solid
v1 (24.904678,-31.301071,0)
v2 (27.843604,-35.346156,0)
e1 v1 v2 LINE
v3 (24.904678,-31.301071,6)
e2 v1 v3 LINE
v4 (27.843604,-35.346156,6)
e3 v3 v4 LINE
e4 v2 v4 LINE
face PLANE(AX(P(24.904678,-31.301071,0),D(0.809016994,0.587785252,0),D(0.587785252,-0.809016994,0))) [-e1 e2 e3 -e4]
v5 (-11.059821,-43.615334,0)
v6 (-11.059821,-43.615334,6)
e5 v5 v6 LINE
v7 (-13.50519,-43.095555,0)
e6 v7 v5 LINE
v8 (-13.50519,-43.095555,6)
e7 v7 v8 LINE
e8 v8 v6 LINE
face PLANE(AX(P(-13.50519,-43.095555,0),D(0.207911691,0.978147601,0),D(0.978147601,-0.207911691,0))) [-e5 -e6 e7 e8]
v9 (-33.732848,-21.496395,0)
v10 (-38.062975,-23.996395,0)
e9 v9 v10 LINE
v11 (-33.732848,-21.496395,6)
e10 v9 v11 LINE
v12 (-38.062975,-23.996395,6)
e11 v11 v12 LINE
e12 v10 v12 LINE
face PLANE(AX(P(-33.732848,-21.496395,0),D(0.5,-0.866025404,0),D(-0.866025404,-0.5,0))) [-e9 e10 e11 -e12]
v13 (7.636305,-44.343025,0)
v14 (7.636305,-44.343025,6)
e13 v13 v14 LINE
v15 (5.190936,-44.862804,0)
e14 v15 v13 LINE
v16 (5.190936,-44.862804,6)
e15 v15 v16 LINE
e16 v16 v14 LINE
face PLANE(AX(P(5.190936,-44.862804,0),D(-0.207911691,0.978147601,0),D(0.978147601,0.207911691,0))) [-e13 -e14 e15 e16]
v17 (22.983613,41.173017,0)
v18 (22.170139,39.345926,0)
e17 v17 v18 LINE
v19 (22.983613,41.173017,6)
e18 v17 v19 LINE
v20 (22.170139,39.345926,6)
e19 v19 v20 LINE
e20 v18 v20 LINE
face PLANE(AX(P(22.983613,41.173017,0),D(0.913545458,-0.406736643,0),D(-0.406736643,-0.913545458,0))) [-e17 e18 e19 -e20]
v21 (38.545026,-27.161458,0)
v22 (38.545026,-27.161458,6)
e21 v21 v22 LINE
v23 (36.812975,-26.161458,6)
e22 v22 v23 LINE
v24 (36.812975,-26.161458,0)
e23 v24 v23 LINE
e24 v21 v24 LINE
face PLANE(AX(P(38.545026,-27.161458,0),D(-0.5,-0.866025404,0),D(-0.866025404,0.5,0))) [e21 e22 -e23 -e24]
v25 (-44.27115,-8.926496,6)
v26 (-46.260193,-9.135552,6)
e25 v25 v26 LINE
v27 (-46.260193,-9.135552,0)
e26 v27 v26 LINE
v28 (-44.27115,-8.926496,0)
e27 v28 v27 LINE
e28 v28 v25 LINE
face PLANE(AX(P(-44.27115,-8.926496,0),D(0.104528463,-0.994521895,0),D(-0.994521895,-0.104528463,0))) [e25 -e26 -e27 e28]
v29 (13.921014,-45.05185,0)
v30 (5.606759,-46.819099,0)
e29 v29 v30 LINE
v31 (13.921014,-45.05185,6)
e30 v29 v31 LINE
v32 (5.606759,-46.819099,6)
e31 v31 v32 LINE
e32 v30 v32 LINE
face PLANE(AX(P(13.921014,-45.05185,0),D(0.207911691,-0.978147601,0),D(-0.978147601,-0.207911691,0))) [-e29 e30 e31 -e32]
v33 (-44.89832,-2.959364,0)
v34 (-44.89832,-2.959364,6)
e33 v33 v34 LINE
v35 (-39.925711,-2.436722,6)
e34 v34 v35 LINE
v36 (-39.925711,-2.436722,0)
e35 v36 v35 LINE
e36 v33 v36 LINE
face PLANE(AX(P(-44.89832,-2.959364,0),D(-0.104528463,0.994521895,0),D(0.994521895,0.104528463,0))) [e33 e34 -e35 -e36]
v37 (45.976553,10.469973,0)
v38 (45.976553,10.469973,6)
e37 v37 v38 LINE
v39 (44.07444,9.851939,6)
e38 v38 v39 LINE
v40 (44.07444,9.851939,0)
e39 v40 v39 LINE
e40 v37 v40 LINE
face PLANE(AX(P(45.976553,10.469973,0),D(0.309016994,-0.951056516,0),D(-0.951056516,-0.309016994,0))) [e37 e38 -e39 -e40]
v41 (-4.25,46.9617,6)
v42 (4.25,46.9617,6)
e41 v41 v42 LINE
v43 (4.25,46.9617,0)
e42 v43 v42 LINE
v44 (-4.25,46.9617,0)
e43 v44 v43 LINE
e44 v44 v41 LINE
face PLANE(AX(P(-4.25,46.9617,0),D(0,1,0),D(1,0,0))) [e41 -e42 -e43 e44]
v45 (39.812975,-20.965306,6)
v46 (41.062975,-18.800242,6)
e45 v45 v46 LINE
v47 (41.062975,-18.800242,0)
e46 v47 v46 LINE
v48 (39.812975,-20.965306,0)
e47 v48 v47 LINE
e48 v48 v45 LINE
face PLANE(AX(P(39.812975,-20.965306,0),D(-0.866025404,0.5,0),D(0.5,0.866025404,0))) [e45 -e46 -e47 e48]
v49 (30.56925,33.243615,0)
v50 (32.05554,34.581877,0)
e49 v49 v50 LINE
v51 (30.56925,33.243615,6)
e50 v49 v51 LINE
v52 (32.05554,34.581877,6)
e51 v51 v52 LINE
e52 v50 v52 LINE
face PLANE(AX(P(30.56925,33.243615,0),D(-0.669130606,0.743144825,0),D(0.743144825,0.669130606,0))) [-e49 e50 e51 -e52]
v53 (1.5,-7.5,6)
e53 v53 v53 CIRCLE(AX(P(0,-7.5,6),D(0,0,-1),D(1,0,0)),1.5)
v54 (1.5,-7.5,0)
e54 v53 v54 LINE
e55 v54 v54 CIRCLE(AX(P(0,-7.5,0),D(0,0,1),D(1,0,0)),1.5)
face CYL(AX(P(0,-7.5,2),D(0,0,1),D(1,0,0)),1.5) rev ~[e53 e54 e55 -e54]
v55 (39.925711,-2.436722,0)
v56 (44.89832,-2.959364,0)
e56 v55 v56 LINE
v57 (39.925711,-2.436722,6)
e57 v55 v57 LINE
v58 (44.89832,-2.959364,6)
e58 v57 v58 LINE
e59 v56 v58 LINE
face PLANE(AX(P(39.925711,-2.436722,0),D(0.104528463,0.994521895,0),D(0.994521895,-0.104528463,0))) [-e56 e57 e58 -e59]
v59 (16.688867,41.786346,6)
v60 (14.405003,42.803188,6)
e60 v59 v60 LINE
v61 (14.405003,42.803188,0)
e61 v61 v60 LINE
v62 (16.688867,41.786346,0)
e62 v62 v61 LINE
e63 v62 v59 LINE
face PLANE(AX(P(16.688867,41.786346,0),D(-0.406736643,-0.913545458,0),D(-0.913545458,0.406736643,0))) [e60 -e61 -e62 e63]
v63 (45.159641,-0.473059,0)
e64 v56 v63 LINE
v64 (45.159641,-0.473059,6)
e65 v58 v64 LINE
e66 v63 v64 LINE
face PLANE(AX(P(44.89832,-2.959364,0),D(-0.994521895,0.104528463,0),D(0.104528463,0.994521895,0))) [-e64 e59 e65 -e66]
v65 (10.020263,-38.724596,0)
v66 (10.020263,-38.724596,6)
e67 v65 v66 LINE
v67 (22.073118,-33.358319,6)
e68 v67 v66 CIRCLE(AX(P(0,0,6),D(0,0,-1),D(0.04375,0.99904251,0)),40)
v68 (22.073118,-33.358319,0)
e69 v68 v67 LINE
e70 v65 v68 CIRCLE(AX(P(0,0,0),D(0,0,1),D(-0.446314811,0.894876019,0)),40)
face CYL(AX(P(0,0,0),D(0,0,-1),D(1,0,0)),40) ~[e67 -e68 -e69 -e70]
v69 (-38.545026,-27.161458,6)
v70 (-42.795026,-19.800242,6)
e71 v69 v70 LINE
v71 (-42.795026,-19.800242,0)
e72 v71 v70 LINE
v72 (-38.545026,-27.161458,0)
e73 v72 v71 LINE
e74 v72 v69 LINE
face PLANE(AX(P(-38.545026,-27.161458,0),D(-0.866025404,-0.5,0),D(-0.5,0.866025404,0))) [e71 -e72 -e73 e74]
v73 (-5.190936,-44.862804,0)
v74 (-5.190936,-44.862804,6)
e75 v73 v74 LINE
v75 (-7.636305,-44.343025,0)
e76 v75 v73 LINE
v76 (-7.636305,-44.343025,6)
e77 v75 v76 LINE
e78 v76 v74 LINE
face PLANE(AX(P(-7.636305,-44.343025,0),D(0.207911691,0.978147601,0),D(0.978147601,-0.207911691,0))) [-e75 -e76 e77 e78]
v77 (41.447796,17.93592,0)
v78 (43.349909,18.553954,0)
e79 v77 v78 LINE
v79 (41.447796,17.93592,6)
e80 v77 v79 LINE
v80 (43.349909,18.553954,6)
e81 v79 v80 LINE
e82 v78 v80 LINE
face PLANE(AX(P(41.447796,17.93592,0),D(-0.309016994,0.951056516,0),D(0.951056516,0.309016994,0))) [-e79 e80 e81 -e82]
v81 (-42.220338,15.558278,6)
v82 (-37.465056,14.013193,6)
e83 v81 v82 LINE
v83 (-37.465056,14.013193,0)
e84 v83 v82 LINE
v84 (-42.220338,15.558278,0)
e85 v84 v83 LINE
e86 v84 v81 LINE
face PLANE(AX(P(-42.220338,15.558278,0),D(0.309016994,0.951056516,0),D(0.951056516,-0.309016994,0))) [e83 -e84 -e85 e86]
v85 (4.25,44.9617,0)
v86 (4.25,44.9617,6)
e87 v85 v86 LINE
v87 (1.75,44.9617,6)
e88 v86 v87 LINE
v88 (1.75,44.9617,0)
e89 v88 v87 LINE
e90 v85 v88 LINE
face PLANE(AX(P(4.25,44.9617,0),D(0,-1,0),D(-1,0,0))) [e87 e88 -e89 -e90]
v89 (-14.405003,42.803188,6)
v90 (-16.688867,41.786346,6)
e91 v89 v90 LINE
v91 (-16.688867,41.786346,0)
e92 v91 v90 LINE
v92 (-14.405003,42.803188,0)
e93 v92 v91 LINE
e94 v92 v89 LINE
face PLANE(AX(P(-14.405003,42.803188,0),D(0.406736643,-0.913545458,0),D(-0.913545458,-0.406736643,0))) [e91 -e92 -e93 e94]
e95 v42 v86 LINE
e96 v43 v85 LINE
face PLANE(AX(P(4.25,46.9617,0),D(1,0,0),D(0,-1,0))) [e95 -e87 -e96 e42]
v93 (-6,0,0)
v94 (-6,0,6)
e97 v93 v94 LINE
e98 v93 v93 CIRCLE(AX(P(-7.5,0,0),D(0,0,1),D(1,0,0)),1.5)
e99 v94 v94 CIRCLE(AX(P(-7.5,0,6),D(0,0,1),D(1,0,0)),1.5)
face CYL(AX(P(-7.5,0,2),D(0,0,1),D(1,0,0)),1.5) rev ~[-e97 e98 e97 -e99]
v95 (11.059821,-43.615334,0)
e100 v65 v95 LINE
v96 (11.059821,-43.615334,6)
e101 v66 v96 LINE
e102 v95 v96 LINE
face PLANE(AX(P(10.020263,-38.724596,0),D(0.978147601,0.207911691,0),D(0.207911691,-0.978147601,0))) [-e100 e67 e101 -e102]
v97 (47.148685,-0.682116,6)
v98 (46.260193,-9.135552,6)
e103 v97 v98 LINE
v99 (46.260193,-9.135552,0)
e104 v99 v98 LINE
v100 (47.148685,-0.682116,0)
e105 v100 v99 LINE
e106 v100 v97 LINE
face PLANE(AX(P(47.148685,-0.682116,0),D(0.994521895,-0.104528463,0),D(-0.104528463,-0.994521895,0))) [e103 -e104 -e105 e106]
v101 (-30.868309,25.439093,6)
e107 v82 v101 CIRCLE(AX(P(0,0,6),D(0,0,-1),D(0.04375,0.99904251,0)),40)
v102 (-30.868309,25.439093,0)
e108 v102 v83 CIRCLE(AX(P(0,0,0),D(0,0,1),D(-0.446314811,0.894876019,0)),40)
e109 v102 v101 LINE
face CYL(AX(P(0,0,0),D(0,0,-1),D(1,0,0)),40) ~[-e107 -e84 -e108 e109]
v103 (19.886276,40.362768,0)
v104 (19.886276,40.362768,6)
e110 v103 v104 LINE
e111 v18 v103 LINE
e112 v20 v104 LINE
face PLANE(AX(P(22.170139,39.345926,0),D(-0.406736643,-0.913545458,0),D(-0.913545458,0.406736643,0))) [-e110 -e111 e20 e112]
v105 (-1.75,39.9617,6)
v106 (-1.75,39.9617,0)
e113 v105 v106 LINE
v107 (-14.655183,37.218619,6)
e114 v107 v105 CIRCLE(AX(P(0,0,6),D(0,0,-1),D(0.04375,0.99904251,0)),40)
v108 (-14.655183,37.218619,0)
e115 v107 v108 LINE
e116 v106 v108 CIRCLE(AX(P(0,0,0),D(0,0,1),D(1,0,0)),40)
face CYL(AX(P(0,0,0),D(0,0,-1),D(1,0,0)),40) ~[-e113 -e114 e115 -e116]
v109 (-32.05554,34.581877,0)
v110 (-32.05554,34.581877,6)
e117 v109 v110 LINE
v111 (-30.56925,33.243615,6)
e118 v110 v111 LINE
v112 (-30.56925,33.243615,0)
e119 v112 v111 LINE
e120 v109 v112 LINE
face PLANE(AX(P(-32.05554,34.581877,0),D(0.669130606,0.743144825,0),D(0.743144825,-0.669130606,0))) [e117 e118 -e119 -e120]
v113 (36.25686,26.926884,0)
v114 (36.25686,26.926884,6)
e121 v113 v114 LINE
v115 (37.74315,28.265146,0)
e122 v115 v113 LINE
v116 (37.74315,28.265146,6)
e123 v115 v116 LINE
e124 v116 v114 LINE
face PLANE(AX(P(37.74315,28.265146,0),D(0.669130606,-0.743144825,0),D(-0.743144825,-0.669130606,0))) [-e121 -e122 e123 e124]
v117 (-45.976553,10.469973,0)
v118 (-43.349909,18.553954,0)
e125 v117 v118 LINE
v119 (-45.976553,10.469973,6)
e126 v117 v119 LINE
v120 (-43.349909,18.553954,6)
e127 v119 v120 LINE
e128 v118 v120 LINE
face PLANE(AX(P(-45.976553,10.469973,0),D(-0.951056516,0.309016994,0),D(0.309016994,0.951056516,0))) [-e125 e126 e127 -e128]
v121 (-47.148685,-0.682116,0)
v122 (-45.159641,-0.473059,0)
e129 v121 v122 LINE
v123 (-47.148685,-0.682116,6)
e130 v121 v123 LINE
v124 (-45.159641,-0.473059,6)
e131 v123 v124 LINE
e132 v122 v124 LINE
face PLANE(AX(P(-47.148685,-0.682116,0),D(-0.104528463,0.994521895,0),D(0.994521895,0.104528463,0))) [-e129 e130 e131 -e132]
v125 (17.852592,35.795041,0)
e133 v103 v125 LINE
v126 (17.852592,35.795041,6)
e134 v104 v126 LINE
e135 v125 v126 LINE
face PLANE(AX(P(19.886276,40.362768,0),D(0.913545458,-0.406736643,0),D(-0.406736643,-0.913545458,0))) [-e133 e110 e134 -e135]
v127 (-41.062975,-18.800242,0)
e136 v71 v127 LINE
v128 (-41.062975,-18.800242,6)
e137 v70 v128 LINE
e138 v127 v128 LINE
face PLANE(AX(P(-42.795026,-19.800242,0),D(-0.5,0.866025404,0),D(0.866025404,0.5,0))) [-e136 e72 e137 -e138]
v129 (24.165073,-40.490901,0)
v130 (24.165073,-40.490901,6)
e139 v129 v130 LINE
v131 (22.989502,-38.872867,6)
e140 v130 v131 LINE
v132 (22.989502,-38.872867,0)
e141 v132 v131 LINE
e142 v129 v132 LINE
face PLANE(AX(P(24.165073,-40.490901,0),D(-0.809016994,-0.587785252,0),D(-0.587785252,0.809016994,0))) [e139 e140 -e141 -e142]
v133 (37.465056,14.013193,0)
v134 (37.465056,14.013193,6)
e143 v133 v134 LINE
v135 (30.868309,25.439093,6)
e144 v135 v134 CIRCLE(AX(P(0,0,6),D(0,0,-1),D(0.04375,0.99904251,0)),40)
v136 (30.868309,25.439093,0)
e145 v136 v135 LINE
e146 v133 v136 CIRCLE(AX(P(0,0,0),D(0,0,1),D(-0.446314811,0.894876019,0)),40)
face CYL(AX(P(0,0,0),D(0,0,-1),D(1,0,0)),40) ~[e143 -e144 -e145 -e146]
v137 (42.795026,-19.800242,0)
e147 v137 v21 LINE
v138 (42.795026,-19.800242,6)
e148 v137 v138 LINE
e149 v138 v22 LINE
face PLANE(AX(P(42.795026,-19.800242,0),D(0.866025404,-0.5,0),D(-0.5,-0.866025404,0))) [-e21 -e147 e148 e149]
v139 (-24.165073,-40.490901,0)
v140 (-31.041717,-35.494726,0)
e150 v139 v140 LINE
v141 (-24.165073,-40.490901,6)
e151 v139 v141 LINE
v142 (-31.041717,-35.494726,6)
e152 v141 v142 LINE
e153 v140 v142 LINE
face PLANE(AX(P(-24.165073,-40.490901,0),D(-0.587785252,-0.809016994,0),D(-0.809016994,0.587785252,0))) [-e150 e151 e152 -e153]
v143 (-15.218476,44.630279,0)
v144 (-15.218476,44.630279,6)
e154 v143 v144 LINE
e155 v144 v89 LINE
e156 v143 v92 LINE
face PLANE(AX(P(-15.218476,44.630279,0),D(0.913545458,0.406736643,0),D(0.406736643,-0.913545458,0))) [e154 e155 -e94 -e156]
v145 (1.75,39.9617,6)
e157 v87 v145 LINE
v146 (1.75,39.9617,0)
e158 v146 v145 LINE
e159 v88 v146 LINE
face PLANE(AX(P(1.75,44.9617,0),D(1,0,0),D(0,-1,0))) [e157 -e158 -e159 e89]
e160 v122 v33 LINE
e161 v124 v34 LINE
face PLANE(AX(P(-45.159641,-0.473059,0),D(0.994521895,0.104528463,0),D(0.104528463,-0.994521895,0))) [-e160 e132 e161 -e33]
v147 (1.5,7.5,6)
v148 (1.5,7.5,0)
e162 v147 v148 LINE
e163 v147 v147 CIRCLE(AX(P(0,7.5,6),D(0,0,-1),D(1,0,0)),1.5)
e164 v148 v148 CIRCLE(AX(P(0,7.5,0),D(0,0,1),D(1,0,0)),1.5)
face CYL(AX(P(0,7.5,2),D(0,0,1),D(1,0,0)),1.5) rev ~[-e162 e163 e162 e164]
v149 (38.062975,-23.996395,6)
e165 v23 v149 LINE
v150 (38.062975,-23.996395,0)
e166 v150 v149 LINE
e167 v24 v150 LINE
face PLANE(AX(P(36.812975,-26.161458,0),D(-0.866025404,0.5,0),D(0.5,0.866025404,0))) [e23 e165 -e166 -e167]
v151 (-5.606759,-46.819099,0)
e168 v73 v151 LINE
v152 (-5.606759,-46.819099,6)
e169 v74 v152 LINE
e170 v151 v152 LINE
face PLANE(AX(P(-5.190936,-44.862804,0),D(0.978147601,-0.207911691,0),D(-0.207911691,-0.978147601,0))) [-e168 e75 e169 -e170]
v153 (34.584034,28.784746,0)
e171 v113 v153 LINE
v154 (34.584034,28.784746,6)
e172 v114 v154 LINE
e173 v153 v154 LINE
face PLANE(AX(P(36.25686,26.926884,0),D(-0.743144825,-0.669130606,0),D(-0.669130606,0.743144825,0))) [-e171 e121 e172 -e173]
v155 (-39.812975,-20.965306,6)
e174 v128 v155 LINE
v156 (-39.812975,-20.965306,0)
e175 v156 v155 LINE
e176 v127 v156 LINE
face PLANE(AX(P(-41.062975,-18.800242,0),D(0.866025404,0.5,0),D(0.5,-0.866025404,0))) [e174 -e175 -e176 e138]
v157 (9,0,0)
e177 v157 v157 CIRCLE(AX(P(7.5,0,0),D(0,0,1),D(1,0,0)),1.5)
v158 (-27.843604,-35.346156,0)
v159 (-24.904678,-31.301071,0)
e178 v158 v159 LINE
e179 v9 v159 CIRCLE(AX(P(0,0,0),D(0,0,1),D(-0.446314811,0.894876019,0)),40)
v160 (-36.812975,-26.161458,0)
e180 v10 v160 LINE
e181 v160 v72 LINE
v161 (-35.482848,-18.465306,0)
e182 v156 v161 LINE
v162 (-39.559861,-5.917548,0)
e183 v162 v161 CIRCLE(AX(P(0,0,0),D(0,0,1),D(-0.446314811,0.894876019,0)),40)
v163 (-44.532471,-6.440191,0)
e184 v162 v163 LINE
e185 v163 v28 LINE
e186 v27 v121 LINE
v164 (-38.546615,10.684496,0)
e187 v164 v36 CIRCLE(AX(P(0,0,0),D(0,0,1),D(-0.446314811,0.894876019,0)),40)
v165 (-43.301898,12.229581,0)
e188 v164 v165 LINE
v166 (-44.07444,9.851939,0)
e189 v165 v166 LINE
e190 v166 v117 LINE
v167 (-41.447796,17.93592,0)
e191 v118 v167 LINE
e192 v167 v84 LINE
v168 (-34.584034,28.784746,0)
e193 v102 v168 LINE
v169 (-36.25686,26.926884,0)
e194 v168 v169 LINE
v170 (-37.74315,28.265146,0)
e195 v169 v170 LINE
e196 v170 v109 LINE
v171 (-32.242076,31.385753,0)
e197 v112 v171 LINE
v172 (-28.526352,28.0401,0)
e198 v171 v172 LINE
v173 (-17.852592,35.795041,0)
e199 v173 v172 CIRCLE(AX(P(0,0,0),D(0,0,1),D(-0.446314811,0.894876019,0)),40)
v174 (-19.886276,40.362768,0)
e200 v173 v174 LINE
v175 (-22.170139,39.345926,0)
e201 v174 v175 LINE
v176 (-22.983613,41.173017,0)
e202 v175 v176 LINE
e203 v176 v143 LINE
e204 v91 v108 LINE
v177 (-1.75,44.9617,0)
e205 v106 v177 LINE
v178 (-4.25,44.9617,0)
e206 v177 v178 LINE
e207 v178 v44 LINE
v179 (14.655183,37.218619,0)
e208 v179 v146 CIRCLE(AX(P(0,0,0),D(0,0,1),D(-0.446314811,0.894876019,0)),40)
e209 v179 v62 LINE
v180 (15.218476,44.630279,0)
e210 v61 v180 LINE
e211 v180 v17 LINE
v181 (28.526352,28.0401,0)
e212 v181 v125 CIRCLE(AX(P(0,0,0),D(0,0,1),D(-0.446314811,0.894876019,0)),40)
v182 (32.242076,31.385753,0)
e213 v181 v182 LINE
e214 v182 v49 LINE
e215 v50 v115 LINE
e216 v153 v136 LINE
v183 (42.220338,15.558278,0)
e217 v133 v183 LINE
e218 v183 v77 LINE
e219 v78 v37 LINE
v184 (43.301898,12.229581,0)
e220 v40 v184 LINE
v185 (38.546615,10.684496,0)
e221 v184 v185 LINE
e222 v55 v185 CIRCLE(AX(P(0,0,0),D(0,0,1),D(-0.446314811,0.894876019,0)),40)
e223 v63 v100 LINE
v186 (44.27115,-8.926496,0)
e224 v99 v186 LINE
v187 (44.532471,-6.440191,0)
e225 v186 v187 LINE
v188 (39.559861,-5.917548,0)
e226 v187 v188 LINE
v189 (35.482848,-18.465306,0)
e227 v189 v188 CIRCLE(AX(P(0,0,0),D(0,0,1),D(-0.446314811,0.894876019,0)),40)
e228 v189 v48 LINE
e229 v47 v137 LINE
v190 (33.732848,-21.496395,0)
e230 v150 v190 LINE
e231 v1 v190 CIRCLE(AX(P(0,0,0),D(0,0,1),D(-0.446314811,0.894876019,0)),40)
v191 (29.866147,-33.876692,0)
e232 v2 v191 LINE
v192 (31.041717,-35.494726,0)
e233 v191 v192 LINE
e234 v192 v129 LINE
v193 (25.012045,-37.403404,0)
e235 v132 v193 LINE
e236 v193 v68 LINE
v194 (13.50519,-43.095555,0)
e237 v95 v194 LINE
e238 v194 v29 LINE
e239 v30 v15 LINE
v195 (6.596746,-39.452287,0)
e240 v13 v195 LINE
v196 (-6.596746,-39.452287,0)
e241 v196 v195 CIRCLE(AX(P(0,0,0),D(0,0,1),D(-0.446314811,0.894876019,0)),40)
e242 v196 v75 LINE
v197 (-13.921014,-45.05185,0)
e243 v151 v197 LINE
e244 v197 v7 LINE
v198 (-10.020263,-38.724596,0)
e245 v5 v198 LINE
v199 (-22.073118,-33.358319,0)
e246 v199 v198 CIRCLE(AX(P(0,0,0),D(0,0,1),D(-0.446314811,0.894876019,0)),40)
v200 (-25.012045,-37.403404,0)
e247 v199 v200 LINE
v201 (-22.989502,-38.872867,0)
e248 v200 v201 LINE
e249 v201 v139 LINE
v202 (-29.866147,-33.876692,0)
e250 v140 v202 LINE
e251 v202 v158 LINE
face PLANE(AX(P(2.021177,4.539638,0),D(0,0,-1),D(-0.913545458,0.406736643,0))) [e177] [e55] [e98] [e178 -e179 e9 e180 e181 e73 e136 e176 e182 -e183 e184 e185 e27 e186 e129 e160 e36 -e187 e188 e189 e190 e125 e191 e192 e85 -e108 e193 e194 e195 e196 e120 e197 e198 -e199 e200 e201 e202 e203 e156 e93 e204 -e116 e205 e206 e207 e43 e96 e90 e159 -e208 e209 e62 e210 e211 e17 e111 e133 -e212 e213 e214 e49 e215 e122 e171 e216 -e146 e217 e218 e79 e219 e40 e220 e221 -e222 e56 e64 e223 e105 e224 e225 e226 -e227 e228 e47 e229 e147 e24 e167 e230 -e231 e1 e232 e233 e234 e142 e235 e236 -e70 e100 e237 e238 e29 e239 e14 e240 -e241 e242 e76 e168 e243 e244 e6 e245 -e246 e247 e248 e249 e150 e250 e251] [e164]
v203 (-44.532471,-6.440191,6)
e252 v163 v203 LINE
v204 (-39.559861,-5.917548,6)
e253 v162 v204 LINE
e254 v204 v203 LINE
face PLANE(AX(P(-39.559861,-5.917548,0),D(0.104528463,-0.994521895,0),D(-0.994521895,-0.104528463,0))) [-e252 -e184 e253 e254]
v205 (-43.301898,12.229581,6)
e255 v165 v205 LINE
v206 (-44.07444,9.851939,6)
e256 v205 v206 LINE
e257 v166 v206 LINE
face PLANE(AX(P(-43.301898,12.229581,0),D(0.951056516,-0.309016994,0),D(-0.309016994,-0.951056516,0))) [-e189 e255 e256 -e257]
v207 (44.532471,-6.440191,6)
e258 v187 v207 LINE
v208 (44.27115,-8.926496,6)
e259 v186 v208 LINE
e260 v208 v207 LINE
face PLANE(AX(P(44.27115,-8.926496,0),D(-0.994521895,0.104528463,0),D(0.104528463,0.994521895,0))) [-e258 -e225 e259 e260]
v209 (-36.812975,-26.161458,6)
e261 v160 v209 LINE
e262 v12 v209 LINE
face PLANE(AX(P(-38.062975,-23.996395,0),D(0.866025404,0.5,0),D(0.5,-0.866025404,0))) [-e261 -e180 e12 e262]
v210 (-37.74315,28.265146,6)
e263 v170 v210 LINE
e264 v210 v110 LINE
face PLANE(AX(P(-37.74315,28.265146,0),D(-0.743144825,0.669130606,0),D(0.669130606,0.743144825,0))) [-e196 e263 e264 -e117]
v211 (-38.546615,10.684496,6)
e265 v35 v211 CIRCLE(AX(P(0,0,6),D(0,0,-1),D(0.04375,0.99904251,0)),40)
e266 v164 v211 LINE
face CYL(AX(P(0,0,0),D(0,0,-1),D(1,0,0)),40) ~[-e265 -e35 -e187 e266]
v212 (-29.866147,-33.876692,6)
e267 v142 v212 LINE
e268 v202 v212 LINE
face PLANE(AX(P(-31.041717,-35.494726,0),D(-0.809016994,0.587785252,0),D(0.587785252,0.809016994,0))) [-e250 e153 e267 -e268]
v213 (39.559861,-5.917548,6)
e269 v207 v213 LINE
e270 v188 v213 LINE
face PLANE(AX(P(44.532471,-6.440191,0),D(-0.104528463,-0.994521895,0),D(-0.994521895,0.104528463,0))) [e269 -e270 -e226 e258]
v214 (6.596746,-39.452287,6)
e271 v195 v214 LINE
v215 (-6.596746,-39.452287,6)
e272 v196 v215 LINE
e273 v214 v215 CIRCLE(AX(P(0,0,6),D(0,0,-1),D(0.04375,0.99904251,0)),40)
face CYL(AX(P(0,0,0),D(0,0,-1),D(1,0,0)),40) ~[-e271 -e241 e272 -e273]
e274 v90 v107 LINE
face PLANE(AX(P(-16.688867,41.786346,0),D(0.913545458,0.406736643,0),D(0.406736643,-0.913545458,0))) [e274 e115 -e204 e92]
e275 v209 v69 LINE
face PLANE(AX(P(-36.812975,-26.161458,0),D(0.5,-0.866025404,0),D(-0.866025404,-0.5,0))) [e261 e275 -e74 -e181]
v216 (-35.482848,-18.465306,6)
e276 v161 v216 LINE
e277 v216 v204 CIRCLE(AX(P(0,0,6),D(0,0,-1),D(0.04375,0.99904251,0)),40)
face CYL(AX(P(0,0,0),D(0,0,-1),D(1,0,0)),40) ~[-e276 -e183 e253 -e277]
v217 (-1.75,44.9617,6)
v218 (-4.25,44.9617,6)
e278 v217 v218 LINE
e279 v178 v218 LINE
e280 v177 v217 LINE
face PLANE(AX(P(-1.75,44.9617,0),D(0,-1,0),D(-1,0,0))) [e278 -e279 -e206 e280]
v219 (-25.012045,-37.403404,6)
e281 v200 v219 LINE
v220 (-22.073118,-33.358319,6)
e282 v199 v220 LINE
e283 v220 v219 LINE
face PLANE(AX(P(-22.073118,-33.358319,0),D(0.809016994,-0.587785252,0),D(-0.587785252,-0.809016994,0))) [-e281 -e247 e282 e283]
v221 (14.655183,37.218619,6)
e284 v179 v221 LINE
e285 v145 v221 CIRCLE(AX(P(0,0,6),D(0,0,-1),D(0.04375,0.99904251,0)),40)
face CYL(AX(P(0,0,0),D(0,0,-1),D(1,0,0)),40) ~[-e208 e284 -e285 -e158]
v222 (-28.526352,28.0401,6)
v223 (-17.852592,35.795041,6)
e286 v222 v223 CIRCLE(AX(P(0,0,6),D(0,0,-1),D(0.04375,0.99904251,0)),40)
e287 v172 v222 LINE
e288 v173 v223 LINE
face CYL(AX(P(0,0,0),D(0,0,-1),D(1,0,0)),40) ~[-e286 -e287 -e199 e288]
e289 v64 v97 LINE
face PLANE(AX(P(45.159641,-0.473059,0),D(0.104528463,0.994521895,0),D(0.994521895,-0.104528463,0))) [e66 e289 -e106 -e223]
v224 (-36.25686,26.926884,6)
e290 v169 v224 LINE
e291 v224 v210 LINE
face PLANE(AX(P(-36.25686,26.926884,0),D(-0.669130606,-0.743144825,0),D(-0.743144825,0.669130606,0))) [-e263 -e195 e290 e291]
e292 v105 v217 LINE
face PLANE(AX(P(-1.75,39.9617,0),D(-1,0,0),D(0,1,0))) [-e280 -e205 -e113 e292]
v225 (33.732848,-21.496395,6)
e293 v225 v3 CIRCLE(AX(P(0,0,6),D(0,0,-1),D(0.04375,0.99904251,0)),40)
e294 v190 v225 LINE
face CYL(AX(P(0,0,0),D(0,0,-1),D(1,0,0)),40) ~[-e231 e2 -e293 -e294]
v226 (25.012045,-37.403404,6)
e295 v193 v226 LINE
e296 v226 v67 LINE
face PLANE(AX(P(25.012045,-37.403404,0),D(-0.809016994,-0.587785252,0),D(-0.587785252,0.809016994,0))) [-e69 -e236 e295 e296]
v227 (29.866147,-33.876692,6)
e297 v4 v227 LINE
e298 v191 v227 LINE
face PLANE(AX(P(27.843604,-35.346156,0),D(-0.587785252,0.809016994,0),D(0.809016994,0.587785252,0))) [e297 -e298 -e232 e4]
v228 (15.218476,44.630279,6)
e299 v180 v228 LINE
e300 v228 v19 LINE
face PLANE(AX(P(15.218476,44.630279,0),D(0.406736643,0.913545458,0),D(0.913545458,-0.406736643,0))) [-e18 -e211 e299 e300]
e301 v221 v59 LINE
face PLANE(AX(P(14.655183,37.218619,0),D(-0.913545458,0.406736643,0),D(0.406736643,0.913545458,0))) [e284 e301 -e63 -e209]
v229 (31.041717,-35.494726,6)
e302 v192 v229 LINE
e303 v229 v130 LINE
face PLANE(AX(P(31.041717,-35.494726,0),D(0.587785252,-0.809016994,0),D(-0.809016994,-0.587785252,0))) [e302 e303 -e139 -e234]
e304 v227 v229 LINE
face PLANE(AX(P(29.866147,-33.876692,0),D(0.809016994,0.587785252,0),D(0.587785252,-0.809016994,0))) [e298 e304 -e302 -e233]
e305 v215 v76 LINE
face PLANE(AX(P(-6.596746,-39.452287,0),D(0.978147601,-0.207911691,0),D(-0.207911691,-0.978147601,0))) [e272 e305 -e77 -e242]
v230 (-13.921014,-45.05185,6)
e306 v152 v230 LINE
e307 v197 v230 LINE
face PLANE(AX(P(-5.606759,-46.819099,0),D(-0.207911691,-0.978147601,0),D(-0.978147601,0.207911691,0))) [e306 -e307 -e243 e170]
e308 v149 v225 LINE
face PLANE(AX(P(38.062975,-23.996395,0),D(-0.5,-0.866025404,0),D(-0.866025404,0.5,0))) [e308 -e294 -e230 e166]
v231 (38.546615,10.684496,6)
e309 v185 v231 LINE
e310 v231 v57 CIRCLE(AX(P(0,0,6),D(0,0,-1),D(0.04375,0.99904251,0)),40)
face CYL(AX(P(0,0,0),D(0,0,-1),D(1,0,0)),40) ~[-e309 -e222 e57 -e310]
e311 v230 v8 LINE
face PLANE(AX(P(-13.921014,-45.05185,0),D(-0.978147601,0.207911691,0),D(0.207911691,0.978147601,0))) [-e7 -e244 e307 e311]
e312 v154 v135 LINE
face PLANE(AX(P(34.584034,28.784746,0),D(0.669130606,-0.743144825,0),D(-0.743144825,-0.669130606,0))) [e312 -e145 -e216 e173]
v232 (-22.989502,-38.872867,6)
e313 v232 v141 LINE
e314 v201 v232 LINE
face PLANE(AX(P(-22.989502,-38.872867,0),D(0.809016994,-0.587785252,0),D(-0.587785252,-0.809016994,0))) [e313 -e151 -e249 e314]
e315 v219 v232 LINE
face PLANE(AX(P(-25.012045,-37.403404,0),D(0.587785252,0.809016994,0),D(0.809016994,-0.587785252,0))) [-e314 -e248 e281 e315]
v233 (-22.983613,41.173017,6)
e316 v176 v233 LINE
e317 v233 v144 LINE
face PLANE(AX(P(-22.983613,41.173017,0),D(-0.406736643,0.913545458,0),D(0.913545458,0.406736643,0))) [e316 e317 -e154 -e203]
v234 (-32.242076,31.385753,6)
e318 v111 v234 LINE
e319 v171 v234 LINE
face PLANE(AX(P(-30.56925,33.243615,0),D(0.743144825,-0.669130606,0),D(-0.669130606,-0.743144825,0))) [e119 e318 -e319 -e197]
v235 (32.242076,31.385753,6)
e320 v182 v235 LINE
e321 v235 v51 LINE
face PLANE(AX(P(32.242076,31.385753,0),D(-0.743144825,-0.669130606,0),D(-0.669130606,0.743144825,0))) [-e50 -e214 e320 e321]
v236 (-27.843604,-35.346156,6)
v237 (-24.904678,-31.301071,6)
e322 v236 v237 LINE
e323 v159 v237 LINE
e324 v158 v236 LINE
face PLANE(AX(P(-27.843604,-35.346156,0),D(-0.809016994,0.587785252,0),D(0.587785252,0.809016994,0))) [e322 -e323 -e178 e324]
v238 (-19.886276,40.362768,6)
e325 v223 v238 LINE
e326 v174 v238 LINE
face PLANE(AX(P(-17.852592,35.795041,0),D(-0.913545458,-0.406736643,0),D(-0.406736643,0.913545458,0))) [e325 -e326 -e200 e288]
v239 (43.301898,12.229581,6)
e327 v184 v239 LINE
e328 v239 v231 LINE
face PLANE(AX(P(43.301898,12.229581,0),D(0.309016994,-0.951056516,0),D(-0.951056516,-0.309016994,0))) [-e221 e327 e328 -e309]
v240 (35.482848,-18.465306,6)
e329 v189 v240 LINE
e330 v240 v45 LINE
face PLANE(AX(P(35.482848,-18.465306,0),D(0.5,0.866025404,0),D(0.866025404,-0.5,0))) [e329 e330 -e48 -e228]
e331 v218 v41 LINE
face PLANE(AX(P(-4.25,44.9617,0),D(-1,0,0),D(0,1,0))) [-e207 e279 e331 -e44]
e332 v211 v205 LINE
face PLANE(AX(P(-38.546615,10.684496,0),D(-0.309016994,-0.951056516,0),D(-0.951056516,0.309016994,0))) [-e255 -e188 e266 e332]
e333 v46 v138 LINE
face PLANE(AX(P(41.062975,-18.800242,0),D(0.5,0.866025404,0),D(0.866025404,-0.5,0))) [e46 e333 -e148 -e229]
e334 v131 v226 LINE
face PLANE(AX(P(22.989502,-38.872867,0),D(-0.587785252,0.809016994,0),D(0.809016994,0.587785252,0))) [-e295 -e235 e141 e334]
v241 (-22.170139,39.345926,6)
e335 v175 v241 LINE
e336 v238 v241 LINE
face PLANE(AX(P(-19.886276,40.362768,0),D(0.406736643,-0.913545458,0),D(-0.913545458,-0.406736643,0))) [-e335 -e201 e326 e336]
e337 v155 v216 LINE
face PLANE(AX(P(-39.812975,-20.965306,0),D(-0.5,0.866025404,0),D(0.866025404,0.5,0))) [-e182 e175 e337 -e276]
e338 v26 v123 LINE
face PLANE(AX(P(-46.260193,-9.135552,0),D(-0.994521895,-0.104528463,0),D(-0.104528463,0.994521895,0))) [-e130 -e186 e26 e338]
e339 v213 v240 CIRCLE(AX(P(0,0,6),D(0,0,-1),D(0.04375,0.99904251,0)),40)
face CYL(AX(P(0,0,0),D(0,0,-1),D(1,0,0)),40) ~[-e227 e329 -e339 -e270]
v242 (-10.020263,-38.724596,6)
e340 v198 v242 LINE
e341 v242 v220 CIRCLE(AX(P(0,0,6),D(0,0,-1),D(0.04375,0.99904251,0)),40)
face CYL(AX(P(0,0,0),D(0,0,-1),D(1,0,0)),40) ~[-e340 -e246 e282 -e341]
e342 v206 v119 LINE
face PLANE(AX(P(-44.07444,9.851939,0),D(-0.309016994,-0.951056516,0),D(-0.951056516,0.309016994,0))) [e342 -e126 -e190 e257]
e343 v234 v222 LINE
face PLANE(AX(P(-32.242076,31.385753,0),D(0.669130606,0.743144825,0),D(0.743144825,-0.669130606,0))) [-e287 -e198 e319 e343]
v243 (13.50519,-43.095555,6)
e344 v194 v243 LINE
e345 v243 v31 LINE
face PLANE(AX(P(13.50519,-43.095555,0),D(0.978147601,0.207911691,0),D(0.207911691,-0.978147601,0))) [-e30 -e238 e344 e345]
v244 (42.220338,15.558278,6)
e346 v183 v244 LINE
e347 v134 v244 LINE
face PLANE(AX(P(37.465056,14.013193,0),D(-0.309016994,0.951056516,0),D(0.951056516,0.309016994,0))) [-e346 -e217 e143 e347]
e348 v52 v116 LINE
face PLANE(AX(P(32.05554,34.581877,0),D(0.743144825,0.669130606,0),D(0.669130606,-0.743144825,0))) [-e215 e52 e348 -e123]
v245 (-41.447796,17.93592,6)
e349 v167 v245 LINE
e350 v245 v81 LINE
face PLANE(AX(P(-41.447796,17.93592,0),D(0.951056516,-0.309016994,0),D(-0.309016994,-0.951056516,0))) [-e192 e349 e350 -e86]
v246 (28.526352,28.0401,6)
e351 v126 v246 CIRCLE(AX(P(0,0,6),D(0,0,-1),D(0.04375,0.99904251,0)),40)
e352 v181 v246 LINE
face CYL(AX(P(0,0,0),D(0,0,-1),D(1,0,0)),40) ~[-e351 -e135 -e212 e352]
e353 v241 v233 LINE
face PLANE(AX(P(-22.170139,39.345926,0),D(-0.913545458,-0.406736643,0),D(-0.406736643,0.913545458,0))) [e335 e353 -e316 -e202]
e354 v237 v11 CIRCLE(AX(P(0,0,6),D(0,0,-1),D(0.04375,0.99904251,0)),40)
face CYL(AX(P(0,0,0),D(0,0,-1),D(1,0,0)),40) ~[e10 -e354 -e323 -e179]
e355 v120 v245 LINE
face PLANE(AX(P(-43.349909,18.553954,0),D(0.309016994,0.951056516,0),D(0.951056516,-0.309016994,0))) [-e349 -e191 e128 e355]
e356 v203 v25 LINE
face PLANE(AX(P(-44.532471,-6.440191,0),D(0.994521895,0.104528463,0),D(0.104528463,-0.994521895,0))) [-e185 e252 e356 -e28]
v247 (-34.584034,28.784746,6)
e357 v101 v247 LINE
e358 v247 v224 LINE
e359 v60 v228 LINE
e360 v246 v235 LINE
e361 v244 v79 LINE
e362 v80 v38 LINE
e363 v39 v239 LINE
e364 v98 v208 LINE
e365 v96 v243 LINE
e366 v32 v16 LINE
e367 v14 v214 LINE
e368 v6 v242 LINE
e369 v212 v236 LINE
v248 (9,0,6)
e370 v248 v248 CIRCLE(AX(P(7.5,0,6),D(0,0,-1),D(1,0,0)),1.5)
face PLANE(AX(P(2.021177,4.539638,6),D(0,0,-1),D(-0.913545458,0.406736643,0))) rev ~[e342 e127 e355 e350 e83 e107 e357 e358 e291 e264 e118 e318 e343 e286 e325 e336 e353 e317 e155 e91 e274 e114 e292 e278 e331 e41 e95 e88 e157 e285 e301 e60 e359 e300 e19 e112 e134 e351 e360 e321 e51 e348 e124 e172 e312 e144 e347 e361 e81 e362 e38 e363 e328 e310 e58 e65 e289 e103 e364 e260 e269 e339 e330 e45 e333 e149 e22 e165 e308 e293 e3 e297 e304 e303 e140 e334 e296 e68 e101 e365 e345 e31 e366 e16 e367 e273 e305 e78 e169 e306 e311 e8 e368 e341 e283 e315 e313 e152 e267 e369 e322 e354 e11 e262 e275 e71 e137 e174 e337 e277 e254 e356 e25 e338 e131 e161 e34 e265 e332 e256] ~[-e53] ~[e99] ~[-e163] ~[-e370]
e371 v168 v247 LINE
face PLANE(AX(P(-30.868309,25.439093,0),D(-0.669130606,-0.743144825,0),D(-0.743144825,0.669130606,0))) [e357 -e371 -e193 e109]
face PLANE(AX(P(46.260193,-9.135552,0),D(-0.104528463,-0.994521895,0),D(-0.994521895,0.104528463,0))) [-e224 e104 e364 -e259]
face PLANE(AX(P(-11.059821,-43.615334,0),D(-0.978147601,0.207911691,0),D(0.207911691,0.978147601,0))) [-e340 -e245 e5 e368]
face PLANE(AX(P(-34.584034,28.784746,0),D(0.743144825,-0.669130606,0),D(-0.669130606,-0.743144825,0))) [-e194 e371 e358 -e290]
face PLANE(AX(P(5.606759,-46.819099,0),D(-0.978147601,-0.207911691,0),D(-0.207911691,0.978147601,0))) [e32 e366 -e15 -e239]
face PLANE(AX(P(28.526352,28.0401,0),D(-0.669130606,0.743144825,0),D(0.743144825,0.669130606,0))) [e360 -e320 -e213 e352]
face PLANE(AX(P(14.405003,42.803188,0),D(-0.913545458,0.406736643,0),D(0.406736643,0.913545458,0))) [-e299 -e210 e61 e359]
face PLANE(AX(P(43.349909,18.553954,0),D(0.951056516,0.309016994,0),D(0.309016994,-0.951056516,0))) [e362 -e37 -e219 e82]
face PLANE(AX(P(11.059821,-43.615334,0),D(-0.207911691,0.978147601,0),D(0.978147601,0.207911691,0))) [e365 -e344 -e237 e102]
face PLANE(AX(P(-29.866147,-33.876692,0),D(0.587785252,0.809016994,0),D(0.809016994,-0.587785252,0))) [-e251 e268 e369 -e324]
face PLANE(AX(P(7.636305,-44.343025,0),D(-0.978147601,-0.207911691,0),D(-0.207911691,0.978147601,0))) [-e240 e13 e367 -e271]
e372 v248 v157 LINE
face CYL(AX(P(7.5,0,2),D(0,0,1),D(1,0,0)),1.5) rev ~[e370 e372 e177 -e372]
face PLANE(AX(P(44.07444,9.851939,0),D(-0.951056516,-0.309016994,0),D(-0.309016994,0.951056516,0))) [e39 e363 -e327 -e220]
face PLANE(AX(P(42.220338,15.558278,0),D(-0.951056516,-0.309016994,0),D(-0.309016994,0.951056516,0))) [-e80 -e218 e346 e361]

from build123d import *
from build123d.topology import SkipClean

# Parameters (mm, degrees)
SKETCH1_R           = 40
BOSS_EXTRUDE1_DEPTH = 2
BOSS_EXTRUDE2_DEPTH = 6
CIRPATTERN1_COUNT   = 15
SKETCH4_R           = 1.5
CUT_EXTRUDE2_DEPTH  = 10


with BuildPart() as part:
    # Sketch1 → Boss-Extrude1 (new body)
    with BuildSketch(Plane.XY):
        Circle(SKETCH1_R)
    extrude(amount=BOSS_EXTRUDE1_DEPTH)

    # Sketch6 → Boss-Extrude2 (add)
    with SkipClean():  # the faces are left unmerged after this step: merging them gives an invalid solid
        with BuildSketch(Plane.XY):
            with BuildLine():
                Line((-1.75, 39.961700414), (-1.75, 44.961700414))
                Line((-1.75, 44.961700414), (-4.25, 44.961700414))
                Line((-4.25, 44.961700414), (-4.25, 46.961700414))
                Line((-4.25, 46.961700414), (4.25, 46.961700414))
                Line((4.25, 46.961700414), (4.25, 44.961700414))
                Line((4.25, 44.961700414), (1.75, 44.961700414))
                Line((1.75, 44.961700414), (1.75, 39.961700414))
                ThreePointArc((1.75, 39.961700414), (0, -40), (-1.75, 39.961700414))
            make_face()
        boss_extrude2 = extrude(amount=BOSS_EXTRUDE2_DEPTH)

    # CirPattern1: Boss-Extrude2 ×15 about axis
    cirpattern1_axis = Axis((0, 0, 0), (0, 0, 1))
    for i in range(1, CIRPATTERN1_COUNT):
        add(boss_extrude2.rotate(cirpattern1_axis, i * 360 / CIRPATTERN1_COUNT))

    # Sketch4 → Cut-Extrude2 (cut, symmetric)
    with BuildSketch(Plane.XY.offset(2)):
        with Locations((0, 7.5)):
            Circle(SKETCH4_R)
        with Locations((7.5, 0)):
            Circle(SKETCH4_R)
        with Locations((0, -7.5)):
            Circle(SKETCH4_R)
        with Locations((-7.5, 0)):
            Circle(SKETCH4_R)
    extrude(amount=CUT_EXTRUDE2_DEPTH, both=True, mode=Mode.SUBTRACT)


solid = part.part
